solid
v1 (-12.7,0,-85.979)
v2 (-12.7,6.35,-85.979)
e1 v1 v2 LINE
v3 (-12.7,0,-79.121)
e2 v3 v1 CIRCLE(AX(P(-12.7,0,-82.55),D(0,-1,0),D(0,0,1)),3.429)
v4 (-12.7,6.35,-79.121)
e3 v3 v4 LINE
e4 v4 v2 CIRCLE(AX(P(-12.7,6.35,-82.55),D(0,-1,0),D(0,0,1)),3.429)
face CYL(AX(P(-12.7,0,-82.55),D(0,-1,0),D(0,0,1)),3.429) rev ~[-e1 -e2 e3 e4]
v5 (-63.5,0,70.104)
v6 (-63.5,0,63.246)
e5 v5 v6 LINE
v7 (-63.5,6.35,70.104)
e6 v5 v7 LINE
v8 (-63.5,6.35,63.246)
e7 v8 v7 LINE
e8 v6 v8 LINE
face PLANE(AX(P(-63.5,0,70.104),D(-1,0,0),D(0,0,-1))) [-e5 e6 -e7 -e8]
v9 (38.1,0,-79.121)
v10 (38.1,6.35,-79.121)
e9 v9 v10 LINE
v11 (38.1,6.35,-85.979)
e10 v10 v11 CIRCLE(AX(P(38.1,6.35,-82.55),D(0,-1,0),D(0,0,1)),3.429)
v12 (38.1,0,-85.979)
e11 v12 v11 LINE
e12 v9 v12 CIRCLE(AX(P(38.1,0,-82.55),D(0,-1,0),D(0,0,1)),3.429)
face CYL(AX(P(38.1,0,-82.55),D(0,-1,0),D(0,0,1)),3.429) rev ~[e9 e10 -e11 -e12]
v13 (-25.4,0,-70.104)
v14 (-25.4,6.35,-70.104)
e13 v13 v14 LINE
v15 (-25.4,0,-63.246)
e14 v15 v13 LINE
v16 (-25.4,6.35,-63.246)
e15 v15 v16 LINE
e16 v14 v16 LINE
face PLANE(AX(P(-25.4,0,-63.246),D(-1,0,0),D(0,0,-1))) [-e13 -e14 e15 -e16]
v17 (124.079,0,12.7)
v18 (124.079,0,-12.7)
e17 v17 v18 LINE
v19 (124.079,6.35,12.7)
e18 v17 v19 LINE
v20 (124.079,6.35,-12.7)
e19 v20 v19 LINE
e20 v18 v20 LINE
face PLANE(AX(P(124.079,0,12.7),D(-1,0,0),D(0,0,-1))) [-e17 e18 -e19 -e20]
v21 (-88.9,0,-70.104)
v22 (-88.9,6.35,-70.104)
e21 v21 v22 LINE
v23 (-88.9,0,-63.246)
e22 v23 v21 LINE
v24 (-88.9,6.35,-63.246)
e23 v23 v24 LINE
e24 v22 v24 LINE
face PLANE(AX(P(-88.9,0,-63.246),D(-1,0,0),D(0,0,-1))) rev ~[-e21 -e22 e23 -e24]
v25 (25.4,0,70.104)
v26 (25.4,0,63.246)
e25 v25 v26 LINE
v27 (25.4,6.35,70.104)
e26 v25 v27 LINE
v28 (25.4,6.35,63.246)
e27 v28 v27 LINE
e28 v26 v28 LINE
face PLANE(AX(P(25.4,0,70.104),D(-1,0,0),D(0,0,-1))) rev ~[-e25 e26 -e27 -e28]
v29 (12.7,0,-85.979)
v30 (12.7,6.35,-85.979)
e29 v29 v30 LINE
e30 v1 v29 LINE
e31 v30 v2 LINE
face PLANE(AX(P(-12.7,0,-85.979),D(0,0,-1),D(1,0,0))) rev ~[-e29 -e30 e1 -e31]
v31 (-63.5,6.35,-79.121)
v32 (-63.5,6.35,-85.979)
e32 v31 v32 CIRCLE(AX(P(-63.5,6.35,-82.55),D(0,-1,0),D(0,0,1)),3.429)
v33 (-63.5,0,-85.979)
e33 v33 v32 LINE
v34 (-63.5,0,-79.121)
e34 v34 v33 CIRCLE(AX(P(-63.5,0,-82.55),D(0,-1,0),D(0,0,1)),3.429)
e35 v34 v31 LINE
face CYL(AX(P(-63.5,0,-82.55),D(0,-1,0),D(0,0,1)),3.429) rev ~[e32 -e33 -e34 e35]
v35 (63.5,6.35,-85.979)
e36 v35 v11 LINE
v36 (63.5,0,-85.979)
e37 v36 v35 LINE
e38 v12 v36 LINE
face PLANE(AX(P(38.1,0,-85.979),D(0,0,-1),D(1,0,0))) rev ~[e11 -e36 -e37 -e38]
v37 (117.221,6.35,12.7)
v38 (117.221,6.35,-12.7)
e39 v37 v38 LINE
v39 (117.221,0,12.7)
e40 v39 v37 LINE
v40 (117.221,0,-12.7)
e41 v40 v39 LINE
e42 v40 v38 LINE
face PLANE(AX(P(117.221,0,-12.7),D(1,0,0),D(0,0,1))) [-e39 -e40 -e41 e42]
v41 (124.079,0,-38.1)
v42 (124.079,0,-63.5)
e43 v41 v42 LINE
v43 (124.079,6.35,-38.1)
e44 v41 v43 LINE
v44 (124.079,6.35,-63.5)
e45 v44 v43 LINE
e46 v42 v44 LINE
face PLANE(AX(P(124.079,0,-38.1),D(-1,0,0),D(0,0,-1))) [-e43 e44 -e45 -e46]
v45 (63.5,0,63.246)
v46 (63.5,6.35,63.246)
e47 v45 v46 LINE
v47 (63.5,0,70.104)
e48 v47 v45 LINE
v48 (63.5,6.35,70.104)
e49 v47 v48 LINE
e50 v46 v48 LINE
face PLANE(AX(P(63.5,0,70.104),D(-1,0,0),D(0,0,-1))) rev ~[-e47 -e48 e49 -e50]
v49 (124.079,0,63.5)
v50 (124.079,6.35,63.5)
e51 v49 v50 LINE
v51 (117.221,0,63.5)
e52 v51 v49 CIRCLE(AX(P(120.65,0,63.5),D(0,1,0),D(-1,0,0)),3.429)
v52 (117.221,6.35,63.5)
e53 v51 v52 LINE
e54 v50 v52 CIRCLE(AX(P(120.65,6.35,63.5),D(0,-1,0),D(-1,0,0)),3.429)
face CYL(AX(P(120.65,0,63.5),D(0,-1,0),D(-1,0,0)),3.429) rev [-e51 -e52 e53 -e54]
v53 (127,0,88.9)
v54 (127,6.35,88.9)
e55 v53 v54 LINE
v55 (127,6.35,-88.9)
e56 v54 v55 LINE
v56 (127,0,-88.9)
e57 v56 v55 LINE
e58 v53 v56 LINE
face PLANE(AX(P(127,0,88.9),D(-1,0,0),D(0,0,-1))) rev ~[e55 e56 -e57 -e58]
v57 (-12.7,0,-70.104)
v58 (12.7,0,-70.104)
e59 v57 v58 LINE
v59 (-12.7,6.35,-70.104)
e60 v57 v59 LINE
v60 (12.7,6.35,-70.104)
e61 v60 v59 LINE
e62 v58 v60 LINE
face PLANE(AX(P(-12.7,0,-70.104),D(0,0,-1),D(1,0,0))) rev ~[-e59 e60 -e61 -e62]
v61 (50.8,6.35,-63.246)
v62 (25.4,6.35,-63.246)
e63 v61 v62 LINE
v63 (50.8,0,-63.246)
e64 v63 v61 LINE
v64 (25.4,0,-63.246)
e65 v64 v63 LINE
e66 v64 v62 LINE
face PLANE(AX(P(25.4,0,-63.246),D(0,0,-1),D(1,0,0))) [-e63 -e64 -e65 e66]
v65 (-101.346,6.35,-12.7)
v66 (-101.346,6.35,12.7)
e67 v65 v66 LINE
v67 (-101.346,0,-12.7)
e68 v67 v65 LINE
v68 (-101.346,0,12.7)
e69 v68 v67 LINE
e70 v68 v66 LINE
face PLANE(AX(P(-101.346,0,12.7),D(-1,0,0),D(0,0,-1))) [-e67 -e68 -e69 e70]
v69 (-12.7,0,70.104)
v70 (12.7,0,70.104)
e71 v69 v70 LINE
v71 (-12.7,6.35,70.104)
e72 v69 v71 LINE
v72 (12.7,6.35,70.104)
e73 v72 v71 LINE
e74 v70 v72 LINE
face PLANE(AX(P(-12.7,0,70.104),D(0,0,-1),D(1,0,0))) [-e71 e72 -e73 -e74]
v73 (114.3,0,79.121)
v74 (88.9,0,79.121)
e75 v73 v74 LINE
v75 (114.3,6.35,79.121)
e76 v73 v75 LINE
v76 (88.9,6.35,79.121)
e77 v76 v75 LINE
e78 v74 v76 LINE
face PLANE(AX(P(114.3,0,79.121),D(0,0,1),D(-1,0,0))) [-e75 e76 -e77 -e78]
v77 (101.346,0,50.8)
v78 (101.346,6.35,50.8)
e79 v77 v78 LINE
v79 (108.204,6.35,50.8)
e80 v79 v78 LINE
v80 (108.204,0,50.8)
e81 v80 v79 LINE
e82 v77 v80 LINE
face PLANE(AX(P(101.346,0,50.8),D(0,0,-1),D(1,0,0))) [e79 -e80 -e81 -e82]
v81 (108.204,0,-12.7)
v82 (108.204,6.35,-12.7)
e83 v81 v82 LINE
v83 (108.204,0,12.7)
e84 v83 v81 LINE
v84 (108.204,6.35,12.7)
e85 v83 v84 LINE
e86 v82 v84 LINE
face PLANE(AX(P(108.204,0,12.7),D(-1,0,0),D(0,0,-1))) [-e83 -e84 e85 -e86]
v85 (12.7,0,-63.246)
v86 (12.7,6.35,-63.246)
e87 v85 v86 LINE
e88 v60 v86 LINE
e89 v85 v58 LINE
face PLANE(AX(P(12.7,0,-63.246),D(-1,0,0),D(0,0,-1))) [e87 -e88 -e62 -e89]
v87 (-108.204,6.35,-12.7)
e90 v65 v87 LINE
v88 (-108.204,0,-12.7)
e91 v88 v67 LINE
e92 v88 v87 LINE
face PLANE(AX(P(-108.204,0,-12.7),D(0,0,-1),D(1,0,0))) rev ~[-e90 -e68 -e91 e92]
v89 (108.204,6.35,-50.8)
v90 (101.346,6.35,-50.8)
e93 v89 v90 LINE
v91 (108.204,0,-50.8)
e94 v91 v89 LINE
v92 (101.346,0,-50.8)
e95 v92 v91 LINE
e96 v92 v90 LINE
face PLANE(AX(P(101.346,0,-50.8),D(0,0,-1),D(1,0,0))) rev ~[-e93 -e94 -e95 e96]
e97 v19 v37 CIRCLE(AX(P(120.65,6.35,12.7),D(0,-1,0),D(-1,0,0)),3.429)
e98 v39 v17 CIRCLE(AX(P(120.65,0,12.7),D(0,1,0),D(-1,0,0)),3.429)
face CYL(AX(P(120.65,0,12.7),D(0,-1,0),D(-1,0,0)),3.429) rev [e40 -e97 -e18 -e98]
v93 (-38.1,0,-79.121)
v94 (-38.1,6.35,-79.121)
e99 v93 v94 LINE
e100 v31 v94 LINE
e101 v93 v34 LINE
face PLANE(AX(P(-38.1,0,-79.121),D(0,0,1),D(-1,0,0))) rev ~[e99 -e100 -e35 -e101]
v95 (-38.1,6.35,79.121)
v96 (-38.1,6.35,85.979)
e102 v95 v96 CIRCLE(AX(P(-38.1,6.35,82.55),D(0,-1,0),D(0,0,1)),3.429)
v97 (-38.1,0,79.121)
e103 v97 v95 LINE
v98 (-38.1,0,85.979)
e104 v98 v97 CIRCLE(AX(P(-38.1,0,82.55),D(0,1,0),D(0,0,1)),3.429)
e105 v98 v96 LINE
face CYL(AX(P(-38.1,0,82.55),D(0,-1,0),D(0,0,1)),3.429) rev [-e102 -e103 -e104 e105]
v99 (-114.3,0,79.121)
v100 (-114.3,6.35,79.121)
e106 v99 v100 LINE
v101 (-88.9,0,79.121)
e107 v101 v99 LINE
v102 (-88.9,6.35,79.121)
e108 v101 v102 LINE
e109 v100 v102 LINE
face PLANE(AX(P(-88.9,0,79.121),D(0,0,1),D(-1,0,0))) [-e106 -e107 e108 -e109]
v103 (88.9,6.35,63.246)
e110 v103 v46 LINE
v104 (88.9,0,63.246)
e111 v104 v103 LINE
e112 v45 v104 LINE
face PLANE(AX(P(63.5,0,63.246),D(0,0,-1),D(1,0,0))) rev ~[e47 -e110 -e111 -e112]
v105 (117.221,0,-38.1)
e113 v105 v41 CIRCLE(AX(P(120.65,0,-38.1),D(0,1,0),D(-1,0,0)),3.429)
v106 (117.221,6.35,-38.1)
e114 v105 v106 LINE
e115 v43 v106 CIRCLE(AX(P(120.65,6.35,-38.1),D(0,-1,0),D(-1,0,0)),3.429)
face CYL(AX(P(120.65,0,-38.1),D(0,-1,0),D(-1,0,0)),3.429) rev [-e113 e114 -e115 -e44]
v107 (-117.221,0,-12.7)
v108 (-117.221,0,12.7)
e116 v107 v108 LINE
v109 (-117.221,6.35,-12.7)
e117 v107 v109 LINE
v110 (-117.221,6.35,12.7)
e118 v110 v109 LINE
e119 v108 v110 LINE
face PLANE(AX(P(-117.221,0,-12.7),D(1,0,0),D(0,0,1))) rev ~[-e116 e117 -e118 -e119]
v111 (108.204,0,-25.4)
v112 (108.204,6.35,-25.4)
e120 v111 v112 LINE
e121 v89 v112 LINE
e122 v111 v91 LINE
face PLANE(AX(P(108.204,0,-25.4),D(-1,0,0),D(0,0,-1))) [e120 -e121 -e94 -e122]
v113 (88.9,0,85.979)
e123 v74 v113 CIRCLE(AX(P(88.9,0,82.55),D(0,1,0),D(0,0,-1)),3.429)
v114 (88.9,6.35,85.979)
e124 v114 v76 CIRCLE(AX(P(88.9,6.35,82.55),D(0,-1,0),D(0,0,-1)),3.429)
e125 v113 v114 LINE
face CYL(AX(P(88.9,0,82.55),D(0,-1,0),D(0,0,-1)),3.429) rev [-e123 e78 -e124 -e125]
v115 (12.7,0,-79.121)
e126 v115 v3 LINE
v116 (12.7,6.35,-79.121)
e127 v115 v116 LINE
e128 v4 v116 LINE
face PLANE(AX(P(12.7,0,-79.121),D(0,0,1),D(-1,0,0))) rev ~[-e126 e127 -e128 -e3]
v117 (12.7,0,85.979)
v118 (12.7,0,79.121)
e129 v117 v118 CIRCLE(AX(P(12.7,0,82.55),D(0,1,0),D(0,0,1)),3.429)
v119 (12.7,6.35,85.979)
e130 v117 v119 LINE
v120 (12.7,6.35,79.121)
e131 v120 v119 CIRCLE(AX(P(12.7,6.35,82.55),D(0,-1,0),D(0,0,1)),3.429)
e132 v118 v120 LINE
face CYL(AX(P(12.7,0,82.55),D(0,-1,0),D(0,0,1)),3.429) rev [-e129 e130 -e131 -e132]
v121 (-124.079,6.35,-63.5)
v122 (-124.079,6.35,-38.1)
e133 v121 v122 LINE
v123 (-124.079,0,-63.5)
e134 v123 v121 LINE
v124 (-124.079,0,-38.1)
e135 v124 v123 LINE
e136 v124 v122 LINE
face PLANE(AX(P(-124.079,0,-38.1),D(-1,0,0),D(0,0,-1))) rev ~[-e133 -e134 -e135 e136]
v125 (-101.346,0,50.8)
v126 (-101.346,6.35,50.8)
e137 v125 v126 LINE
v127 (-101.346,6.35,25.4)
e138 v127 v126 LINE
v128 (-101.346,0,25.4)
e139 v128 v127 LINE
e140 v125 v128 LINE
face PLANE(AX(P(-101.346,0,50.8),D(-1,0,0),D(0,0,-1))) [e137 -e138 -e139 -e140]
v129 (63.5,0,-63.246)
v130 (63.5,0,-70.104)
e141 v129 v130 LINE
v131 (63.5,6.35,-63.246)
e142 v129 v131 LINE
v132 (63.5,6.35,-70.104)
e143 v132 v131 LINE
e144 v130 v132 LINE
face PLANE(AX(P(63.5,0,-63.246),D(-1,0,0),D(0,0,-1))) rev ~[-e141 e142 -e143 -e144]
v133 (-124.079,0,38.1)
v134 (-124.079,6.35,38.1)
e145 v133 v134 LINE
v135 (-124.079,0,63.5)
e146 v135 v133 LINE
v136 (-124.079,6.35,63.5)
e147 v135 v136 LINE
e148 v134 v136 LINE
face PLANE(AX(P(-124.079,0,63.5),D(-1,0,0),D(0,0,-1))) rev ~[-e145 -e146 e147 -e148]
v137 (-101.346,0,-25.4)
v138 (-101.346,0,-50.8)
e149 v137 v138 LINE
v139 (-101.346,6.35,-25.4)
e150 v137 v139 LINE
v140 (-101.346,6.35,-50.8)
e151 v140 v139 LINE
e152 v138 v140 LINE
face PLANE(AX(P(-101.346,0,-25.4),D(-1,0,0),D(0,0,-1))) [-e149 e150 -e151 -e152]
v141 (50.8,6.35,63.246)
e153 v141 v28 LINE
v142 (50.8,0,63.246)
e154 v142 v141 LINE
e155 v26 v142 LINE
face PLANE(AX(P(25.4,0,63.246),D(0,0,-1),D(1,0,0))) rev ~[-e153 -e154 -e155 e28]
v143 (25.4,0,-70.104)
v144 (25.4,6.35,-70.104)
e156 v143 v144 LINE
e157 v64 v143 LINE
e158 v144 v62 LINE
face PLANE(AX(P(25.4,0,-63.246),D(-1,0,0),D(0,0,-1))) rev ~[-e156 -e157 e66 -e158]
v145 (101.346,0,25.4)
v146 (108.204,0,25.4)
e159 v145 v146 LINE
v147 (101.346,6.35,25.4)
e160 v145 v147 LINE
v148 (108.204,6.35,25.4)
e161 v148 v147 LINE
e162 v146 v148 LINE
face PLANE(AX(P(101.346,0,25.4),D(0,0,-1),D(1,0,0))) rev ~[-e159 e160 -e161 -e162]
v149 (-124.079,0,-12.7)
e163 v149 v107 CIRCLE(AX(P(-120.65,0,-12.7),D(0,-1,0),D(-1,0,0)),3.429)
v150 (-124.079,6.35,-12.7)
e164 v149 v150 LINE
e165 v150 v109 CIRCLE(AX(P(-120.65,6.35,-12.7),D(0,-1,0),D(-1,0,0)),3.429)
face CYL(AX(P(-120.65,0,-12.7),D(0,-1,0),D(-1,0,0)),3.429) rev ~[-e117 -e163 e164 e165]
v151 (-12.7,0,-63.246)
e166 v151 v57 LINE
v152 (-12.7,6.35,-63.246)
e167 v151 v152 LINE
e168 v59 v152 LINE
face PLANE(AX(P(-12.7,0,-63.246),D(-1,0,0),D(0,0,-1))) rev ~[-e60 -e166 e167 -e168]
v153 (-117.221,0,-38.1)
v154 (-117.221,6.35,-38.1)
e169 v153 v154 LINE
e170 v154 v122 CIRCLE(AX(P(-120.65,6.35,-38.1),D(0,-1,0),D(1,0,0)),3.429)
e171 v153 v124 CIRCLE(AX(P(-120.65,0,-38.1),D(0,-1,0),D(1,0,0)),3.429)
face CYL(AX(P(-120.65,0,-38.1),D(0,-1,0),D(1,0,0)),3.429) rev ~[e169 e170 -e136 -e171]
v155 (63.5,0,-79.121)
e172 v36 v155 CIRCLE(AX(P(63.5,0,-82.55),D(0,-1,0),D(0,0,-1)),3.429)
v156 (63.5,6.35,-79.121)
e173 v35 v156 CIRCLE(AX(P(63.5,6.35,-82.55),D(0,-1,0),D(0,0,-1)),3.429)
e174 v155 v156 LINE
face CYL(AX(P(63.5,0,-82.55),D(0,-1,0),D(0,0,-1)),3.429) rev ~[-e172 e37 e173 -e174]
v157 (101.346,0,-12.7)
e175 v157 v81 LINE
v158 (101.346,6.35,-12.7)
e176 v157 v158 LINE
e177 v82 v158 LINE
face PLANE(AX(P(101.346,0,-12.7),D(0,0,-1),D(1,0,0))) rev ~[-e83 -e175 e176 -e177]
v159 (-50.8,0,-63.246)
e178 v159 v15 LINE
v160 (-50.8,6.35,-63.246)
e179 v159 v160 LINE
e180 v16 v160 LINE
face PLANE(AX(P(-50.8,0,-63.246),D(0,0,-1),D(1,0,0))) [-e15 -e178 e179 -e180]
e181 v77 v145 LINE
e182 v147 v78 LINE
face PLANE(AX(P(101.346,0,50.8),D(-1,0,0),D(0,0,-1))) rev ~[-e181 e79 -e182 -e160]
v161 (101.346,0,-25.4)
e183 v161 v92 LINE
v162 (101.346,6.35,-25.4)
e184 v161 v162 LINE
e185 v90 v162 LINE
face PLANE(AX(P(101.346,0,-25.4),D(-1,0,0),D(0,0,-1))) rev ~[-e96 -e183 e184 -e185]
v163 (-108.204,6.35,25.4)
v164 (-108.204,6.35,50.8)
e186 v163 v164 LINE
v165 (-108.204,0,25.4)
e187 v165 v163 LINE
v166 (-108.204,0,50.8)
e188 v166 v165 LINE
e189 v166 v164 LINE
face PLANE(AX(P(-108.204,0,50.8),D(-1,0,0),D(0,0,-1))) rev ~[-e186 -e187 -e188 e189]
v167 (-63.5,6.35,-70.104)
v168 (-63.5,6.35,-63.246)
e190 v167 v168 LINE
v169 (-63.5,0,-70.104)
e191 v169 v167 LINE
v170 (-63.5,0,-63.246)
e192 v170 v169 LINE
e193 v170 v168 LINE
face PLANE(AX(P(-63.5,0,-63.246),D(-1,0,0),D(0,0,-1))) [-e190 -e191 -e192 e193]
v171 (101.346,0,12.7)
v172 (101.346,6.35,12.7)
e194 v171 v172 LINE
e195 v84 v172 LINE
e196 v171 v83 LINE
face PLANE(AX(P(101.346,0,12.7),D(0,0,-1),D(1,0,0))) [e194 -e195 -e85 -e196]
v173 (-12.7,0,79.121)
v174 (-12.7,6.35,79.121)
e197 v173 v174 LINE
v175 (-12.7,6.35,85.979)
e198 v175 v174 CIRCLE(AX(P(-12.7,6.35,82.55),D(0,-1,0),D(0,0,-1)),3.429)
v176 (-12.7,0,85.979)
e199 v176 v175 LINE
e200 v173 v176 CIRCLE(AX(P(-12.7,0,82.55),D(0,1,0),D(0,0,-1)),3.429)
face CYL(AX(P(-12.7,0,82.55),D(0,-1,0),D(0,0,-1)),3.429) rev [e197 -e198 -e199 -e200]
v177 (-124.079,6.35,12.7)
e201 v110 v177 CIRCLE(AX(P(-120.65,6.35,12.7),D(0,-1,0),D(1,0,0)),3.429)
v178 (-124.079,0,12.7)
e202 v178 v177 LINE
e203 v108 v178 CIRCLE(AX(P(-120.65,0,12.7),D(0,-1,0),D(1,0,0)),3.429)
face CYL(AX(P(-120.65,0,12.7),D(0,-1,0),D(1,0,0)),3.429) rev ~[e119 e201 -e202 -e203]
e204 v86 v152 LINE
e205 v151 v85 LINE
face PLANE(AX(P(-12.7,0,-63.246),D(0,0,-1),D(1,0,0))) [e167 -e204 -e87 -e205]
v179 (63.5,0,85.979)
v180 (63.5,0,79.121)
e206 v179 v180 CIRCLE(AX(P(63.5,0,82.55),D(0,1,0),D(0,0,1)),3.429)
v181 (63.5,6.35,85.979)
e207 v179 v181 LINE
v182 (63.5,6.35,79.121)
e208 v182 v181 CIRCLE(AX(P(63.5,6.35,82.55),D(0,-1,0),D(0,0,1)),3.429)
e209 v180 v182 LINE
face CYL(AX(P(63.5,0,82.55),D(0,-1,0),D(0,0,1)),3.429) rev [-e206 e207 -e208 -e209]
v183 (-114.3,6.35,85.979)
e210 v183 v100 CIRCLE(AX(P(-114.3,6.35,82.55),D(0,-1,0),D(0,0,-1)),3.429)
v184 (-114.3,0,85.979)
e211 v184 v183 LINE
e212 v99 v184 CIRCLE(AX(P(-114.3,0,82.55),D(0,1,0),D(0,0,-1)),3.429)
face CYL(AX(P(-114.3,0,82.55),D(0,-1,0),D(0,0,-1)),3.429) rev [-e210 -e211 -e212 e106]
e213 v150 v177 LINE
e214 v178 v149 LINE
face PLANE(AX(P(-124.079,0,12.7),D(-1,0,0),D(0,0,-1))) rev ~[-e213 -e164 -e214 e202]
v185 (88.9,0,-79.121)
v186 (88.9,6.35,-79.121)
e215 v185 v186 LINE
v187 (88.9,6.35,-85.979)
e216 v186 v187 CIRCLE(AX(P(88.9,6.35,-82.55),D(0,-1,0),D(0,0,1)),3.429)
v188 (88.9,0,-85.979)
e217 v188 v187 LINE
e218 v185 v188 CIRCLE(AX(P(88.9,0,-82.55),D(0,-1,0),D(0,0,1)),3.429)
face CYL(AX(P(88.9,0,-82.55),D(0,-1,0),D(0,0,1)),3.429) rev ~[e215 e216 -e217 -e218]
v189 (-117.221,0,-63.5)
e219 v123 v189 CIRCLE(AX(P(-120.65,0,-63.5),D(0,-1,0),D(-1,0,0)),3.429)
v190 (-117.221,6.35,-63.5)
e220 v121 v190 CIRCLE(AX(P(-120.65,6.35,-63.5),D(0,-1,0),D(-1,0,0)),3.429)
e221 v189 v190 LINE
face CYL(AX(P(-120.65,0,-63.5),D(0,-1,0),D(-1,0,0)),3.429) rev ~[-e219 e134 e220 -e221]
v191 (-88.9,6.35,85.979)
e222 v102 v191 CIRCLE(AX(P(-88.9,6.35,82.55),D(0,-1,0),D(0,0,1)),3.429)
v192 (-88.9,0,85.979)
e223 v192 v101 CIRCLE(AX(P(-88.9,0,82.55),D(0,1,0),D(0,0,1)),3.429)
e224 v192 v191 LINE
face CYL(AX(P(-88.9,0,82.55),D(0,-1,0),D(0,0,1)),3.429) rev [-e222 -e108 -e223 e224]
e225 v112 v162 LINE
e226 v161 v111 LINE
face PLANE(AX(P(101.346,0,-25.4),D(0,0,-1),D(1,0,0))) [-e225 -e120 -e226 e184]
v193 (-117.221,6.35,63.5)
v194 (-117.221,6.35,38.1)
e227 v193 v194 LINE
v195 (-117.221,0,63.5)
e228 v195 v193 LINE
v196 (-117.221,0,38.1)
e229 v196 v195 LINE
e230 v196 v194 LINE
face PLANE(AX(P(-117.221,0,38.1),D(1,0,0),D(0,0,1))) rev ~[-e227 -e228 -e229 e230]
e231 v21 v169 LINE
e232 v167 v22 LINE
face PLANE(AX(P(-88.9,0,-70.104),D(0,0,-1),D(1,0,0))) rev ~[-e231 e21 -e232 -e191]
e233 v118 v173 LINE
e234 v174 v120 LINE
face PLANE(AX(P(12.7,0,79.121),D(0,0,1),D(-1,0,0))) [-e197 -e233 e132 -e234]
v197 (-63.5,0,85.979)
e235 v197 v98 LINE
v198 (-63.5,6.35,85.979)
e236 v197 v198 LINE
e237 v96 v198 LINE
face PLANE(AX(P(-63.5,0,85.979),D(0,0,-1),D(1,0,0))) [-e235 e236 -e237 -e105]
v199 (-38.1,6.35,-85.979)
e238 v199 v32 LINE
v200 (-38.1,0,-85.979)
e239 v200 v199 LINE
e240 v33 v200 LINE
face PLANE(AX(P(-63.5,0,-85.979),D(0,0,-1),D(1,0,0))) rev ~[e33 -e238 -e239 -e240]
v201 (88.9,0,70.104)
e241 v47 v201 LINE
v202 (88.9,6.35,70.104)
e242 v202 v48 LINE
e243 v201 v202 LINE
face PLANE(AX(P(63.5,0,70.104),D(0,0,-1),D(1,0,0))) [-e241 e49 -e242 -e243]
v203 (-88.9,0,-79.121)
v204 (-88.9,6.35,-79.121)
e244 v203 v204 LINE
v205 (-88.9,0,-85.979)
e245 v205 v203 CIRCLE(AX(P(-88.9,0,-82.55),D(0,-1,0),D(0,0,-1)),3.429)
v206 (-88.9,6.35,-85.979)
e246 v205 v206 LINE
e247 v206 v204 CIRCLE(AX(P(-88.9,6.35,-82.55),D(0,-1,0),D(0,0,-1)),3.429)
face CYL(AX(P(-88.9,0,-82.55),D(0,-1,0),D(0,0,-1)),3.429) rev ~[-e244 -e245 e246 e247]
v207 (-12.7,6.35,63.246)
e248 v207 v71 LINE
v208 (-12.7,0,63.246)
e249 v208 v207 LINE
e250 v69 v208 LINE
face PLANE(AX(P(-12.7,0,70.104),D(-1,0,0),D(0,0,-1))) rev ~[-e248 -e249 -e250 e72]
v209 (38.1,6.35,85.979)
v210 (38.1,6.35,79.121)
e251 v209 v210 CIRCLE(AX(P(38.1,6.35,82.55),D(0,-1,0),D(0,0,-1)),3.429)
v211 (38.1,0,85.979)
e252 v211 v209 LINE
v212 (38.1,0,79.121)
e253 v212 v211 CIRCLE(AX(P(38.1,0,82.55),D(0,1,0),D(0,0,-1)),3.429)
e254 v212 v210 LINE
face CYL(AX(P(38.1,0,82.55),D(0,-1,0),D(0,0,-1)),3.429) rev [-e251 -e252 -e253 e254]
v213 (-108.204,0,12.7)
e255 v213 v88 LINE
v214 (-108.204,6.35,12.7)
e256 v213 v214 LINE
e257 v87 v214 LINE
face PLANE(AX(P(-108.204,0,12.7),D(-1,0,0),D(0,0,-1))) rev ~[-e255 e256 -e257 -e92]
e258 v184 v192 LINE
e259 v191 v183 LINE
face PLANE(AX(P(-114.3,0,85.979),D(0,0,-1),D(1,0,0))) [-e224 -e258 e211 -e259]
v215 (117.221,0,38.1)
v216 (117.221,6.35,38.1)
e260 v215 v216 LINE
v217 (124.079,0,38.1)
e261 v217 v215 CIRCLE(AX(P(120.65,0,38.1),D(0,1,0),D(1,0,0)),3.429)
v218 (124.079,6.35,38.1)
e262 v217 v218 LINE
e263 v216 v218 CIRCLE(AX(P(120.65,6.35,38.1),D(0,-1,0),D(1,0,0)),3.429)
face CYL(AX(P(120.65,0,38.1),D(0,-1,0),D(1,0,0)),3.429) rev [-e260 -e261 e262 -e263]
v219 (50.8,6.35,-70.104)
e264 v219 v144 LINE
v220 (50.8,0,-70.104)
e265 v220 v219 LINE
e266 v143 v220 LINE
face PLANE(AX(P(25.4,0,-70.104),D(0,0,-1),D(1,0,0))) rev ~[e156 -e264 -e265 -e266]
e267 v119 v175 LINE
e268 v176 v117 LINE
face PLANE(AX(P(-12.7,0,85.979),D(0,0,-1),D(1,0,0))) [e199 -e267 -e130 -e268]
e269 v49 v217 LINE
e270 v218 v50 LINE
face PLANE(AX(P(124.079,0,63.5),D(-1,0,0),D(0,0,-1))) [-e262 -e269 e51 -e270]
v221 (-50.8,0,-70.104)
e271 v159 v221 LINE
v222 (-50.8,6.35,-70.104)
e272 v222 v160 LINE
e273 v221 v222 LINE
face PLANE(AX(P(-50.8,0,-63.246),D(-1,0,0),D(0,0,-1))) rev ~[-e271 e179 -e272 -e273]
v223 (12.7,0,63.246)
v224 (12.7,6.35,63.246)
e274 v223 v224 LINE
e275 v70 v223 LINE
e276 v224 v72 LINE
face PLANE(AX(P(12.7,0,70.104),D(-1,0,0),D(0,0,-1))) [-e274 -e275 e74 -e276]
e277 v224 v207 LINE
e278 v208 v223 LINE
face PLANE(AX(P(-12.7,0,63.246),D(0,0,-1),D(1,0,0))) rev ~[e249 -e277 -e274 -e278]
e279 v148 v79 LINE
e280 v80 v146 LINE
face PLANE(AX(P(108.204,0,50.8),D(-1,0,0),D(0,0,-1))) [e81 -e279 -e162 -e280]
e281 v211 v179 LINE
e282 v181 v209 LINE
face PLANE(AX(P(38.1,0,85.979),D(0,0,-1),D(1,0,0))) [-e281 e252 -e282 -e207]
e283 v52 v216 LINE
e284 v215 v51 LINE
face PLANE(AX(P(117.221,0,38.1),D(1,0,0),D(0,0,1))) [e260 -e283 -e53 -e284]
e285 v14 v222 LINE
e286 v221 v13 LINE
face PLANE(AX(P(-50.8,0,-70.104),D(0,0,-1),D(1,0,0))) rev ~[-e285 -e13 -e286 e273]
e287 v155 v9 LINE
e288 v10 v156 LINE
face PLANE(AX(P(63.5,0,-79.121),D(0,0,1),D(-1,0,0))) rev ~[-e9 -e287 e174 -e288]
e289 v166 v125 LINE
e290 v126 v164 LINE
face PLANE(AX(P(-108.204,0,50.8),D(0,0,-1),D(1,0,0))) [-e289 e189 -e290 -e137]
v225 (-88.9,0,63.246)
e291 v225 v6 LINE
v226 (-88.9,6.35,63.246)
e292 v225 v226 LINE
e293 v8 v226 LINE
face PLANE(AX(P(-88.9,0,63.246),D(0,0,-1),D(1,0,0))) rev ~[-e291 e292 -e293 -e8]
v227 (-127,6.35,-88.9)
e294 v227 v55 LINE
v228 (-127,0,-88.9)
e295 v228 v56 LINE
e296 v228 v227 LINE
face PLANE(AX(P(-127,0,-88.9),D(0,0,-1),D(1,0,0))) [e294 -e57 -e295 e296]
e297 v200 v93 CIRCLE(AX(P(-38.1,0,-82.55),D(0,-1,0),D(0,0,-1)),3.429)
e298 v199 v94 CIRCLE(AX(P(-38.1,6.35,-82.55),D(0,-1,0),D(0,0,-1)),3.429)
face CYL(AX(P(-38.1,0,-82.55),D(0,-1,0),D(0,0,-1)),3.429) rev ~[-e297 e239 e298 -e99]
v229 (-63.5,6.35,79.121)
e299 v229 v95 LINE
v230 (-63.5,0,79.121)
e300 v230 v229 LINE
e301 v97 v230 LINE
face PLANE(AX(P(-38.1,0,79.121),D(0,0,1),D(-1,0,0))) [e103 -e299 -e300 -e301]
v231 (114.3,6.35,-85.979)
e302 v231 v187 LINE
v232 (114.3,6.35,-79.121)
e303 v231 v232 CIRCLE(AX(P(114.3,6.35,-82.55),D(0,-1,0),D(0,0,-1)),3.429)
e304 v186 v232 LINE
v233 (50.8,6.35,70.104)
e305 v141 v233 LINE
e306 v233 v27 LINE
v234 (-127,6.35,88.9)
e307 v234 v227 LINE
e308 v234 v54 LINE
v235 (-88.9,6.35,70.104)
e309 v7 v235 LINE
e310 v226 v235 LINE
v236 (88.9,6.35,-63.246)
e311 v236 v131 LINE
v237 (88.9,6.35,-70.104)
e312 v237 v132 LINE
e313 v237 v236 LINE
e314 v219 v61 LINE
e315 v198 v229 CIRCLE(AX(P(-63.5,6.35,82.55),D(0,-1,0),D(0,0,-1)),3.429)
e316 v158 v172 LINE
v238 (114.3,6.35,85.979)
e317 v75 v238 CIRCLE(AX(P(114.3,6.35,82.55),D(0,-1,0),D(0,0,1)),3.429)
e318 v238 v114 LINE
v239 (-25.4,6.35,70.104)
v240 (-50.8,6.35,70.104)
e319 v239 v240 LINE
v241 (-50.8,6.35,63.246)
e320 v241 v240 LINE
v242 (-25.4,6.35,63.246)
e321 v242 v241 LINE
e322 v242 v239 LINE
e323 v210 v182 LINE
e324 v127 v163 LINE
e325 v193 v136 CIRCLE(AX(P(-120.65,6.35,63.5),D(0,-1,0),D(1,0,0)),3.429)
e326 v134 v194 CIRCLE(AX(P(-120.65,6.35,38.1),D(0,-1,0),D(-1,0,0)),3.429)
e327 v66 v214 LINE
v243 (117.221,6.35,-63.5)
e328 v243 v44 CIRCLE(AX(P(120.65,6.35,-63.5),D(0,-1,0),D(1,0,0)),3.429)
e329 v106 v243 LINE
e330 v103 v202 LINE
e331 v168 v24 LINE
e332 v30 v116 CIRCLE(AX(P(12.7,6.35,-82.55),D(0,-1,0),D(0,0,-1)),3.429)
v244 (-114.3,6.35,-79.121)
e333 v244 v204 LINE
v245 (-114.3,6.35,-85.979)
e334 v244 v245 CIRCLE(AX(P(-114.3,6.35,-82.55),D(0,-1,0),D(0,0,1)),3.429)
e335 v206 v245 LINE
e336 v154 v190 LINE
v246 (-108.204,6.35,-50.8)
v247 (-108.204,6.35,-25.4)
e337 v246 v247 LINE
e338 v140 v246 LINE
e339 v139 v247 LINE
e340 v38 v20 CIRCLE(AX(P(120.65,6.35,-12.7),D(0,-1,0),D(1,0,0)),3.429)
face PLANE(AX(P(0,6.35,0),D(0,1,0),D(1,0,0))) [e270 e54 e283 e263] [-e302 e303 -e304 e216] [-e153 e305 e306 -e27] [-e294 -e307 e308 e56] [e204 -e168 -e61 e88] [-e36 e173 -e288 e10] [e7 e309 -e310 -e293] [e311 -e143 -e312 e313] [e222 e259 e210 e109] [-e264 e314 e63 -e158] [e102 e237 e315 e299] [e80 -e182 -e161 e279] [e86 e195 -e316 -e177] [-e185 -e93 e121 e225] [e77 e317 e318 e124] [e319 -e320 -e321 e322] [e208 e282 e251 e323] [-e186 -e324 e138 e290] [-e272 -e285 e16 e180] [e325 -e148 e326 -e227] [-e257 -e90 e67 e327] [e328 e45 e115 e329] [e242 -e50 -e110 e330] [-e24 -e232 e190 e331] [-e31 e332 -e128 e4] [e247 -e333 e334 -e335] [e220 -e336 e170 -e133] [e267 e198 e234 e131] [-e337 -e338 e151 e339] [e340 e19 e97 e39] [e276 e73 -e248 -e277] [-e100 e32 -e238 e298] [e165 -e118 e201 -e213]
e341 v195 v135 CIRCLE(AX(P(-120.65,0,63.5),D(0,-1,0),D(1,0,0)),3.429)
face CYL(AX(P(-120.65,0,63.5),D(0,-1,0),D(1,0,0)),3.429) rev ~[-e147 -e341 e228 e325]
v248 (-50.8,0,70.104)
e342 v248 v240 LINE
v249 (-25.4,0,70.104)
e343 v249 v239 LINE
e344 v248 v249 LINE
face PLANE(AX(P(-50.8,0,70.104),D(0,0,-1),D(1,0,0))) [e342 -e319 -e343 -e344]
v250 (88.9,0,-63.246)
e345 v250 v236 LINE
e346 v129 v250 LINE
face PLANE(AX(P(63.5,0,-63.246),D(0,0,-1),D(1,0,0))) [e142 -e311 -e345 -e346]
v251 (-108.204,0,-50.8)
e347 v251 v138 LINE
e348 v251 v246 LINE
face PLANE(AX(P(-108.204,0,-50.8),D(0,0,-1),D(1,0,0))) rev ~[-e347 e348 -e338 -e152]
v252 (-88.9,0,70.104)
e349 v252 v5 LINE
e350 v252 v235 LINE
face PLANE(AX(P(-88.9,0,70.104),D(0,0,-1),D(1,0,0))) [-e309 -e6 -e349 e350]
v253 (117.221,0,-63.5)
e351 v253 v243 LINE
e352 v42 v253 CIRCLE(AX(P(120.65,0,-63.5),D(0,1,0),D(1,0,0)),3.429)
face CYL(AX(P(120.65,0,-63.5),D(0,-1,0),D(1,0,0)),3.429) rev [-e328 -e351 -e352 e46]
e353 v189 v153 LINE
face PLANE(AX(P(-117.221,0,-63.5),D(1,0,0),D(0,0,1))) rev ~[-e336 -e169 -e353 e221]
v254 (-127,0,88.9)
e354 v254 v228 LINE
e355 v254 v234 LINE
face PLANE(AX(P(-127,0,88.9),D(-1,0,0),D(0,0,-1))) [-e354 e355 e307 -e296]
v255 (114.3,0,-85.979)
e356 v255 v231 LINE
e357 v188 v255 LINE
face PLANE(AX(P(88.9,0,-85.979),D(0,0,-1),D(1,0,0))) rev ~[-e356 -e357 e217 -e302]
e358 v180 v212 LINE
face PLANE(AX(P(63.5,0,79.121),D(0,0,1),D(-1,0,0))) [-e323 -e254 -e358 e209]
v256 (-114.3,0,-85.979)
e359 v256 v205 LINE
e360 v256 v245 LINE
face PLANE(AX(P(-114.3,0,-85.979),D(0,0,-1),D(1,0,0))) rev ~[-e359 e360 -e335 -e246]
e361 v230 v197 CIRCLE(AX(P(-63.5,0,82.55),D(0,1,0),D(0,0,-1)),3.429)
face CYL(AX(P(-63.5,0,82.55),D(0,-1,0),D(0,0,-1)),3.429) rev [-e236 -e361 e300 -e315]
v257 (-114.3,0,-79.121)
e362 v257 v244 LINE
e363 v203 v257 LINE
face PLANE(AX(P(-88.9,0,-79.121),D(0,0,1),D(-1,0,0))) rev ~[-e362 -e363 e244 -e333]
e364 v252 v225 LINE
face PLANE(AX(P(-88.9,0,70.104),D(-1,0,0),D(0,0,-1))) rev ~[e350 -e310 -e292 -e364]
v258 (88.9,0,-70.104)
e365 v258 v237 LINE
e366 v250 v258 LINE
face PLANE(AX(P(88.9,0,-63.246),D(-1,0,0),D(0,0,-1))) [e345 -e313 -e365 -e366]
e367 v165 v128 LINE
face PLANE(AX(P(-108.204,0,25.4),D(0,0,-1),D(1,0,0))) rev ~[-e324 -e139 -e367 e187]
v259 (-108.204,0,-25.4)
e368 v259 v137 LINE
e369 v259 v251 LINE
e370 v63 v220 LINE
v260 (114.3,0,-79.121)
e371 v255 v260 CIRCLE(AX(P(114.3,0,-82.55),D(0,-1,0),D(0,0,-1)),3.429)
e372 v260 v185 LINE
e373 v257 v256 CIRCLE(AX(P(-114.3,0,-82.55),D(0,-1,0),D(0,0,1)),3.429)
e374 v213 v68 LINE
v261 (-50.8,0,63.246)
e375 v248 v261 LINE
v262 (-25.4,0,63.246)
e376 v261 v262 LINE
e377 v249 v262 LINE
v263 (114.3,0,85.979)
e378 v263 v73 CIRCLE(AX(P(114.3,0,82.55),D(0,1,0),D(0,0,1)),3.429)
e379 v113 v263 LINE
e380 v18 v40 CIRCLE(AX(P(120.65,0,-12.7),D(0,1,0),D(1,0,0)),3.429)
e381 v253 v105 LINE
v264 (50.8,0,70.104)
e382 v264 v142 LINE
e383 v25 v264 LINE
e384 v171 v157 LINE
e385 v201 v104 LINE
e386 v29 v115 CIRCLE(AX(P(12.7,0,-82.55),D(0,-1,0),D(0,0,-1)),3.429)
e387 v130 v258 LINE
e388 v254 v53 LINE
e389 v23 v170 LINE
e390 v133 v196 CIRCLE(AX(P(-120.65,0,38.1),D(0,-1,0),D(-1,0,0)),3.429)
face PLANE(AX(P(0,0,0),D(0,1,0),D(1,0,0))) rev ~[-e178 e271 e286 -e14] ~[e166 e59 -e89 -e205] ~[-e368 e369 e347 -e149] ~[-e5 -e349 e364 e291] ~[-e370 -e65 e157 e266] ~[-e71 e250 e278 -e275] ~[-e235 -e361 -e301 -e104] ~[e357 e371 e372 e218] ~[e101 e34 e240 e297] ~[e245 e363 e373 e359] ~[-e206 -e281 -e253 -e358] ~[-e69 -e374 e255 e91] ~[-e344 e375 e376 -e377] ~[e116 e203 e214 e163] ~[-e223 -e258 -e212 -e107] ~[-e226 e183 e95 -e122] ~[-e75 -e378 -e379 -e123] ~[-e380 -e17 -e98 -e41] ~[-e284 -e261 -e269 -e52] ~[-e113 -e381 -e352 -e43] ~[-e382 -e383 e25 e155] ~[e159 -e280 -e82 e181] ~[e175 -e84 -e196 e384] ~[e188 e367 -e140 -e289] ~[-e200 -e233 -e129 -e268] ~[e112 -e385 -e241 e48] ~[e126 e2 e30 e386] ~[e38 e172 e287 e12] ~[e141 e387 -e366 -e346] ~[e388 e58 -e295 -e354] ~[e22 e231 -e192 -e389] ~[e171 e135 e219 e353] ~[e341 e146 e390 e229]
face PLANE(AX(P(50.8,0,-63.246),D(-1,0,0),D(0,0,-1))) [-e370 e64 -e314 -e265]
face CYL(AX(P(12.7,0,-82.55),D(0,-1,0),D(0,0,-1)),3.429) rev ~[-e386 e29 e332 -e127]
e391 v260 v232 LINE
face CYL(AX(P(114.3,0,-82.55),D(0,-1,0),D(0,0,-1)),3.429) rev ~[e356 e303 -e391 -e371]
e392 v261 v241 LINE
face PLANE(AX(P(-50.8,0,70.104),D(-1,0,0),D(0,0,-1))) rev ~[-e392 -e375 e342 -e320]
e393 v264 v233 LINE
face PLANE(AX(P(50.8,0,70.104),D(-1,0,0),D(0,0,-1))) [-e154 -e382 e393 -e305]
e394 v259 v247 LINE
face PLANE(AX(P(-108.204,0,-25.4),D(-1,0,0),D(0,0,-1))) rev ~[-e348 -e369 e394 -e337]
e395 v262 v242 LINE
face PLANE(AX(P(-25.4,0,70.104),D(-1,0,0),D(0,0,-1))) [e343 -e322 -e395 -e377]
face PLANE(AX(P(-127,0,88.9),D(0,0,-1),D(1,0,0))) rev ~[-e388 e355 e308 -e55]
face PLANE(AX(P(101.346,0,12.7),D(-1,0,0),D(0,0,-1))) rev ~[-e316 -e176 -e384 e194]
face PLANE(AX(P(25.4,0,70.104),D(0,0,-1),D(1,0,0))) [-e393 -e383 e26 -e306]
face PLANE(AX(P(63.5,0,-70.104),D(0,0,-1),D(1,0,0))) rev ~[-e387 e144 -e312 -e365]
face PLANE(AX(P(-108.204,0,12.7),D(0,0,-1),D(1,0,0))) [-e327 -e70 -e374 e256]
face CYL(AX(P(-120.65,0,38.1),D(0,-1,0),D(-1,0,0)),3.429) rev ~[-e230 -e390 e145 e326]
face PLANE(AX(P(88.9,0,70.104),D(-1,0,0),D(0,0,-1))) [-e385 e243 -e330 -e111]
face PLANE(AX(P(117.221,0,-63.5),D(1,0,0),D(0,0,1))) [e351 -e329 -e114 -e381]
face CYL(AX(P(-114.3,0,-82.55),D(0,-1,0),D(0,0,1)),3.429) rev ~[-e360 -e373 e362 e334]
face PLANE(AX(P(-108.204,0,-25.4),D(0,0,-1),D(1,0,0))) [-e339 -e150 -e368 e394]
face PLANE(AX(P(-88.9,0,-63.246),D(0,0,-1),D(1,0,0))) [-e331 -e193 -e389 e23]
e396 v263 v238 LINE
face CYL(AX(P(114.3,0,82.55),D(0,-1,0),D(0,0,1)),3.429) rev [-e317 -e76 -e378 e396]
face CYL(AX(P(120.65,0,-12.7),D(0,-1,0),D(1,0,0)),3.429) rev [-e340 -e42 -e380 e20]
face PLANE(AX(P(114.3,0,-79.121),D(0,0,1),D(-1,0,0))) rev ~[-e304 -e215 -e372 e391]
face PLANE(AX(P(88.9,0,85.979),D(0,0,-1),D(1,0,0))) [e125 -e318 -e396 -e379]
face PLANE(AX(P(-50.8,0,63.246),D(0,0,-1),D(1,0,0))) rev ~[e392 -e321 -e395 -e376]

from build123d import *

# Parameters (mm, degrees)
SKETCH1_W           = 254
SKETCH1_H           = 177.8
BOSS_EXTRUDE1_DEPTH = 6.35
SKETCH2_W           = 25.4
SKETCH2_H           = 6.858
SKETCH2_W_2         = 6.858
SKETCH2_H_2         = 25.4
CUT_EXTRUDE1_DEPTH  = 156.15325488


with BuildPart() as part:
    # Sketch1 → Boss-Extrude1 (new body)
    with BuildSketch(Plane(origin=(0, 0, 0), x_dir=(1, 0, 0), z_dir=(0, 1, 0))):
        Rectangle(SKETCH1_W, SKETCH1_H)
    extrude(amount=BOSS_EXTRUDE1_DEPTH)

    # Sketch2 → Cut-Extrude1 (cut, through all)
    with BuildSketch(Plane(origin=(0, 0, 0), x_dir=(1, 0, 0), z_dir=(0, 1, 0))):
        with Locations((76.2, 66.675)):
            Rectangle(SKETCH2_W, SKETCH2_H)
        with Locations((-76.2, 66.675)):
            Rectangle(SKETCH2_W, SKETCH2_H)
        with BuildLine():
            Line((38.1, 85.979), (63.5, 85.979))
            ThreePointArc((63.5, 85.979), (66.929, 82.55), (63.5, 79.121))
            Line((63.5, 79.121), (38.1, 79.121))
            ThreePointArc((38.1, 79.121), (34.671, 82.55), (38.1, 85.979))
        make_face()
        with BuildLine():
            Line((88.9, 85.979), (114.3, 85.979))
            ThreePointArc((114.3, 85.979), (117.729, 82.55), (114.3, 79.121))
            Line((114.3, 79.121), (88.9, 79.121))
            ThreePointArc((88.9, 79.121), (85.471, 82.55), (88.9, 85.979))
        make_face()
        with BuildLine():
            Line((-114.3, 85.979), (-88.9, 85.979))
            ThreePointArc((-88.9, 85.979), (-85.471, 82.55), (-88.9, 79.121))
            Line((-88.9, 79.121), (-114.3, 79.121))
            ThreePointArc((-114.3, 79.121), (-117.729, 82.55), (-114.3, 85.979))
        make_face()
        with Locations((38.1, 66.675)):
            Rectangle(SKETCH2_W, SKETCH2_H)
        with BuildLine():
            Line((-63.5, 85.979), (-38.1, 85.979))
            ThreePointArc((-38.1, 85.979), (-34.671, 82.55), (-38.1, 79.121))
            Line((-38.1, 79.121), (-63.5, 79.121))
            ThreePointArc((-63.5, 79.121), (-66.929, 82.55), (-63.5, 85.979))
        make_face()
        with BuildLine():
            Line((-12.7, 85.979), (12.7, 85.979))
            ThreePointArc((12.7, 85.979), (16.129, 82.55), (12.7, 79.121))
            Line((12.7, 79.121), (-12.7, 79.121))
            ThreePointArc((-12.7, 79.121), (-16.129, 82.55), (-12.7, 85.979))
        make_face()
        with Locations((-104.775, 38.1)):
            Rectangle(SKETCH2_W_2, SKETCH2_H_2)
        with Locations((-104.775, 0)):
            Rectangle(SKETCH2_W_2, SKETCH2_H_2)
        with Locations((0, 66.675)):
            Rectangle(SKETCH2_W, SKETCH2_H)
        with Locations((-38.1, 66.675)):
            Rectangle(SKETCH2_W, SKETCH2_H)
        with BuildLine():
            Line((-124.079, -12.7), (-124.079, 12.7))
            ThreePointArc((-124.079, 12.7), (-120.65, 16.129), (-117.221, 12.7))
            Line((-117.221, 12.7), (-117.221, -12.7))
            ThreePointArc((-117.221, -12.7), (-120.65, -16.129), (-124.079, -12.7))
        make_face()
        with Locations((-104.775, -38.1)):
            Rectangle(SKETCH2_W_2, SKETCH2_H_2)
        with BuildLine():
            Line((-124.079, 38.1), (-124.079, 63.5))
            ThreePointArc((-124.079, 63.5), (-120.65, 66.929), (-117.221, 63.5))
            Line((-117.221, 63.5), (-117.221, 38.1))
            ThreePointArc((-117.221, 38.1), (-120.65, 34.671), (-124.079, 38.1))
        make_face()
        with BuildLine():
            Line((-124.079, -63.5), (-124.079, -38.1))
            ThreePointArc((-124.079, -38.1), (-120.65, -34.671), (-117.221, -38.1))
            Line((-117.221, -38.1), (-117.221, -63.5))
            ThreePointArc((-117.221, -63.5), (-120.65, -66.929), (-124.079, -63.5))
        make_face()
        with BuildLine():
            Line((124.079, -12.7), (124.079, 12.7))
            ThreePointArc((124.079, 12.7), (120.65, 16.129), (117.221, 12.7))
            Line((117.221, 12.7), (117.221, -12.7))
            ThreePointArc((117.221, -12.7), (120.65, -16.129), (124.079, -12.7))
        make_face()
        with BuildLine():
            Line((124.079, 38.1), (124.079, 63.5))
            ThreePointArc((124.079, 63.5), (120.65, 66.929), (117.221, 63.5))
            Line((117.221, 63.5), (117.221, 38.1))
            ThreePointArc((117.221, 38.1), (120.65, 34.671), (124.079, 38.1))
        make_face()
        with BuildLine():
            Line((124.079, -63.5), (124.079, -38.1))
            ThreePointArc((124.079, -38.1), (120.65, -34.671), (117.221, -38.1))
            Line((117.221, -38.1), (117.221, -63.5))
            ThreePointArc((117.221, -63.5), (120.65, -66.929), (124.079, -63.5))
        make_face()
        with Locations((104.775, -38.1)):
            Rectangle(SKETCH2_W_2, SKETCH2_H_2)
        with Locations((104.775, 38.1)):
            Rectangle(SKETCH2_W_2, SKETCH2_H_2)
        with Locations((104.775, 0)):
            Rectangle(SKETCH2_W_2, SKETCH2_H_2)
        with Locations((-38.1, -66.675)):
            Rectangle(SKETCH2_W, SKETCH2_H)
        with Locations((38.1, -66.675)):
            Rectangle(SKETCH2_W, SKETCH2_H)
        with Locations((0, -66.675)):
            Rectangle(SKETCH2_W, SKETCH2_H)
        with BuildLine():
            Line((12.7, -79.121), (-12.7, -79.121))
            ThreePointArc((-12.7, -79.121), (-16.129, -82.55), (-12.7, -85.979))
            Line((-12.7, -85.979), (12.7, -85.979))
            ThreePointArc((12.7, -85.979), (16.129, -82.55), (12.7, -79.121))
        make_face()
        with BuildLine():
            Line((-38.1, -79.121), (-63.5, -79.121))
            ThreePointArc((-63.5, -79.121), (-66.929, -82.55), (-63.5, -85.979))
            Line((-63.5, -85.979), (-38.1, -85.979))
            ThreePointArc((-38.1, -85.979), (-34.671, -82.55), (-38.1, -79.121))
        make_face()
        with BuildLine():
            Line((-88.9, -79.121), (-114.3, -79.121))
            ThreePointArc((-114.3, -79.121), (-117.729, -82.55), (-114.3, -85.979))
            Line((-114.3, -85.979), (-88.9, -85.979))
            ThreePointArc((-88.9, -85.979), (-85.471, -82.55), (-88.9, -79.121))
        make_face()
        with BuildLine():
            Line((114.3, -79.121), (88.9, -79.121))
            ThreePointArc((88.9, -79.121), (85.471, -82.55), (88.9, -85.979))
            Line((88.9, -85.979), (114.3, -85.979))
            ThreePointArc((114.3, -85.979), (117.729, -82.55), (114.3, -79.121))
        make_face()
        with BuildLine():
            Line((63.5, -79.121), (38.1, -79.121))
            ThreePointArc((38.1, -79.121), (34.671, -82.55), (38.1, -85.979))
            Line((38.1, -85.979), (63.5, -85.979))
            ThreePointArc((63.5, -85.979), (66.929, -82.55), (63.5, -79.121))
        make_face()
        with Locations((-76.2, -66.675)):
            Rectangle(SKETCH2_W, SKETCH2_H)
        with Locations((76.2, -66.675)):
            Rectangle(SKETCH2_W, SKETCH2_H)
    extrude(amount=CUT_EXTRUDE1_DEPTH, mode=Mode.SUBTRACT)


solid = part.part
